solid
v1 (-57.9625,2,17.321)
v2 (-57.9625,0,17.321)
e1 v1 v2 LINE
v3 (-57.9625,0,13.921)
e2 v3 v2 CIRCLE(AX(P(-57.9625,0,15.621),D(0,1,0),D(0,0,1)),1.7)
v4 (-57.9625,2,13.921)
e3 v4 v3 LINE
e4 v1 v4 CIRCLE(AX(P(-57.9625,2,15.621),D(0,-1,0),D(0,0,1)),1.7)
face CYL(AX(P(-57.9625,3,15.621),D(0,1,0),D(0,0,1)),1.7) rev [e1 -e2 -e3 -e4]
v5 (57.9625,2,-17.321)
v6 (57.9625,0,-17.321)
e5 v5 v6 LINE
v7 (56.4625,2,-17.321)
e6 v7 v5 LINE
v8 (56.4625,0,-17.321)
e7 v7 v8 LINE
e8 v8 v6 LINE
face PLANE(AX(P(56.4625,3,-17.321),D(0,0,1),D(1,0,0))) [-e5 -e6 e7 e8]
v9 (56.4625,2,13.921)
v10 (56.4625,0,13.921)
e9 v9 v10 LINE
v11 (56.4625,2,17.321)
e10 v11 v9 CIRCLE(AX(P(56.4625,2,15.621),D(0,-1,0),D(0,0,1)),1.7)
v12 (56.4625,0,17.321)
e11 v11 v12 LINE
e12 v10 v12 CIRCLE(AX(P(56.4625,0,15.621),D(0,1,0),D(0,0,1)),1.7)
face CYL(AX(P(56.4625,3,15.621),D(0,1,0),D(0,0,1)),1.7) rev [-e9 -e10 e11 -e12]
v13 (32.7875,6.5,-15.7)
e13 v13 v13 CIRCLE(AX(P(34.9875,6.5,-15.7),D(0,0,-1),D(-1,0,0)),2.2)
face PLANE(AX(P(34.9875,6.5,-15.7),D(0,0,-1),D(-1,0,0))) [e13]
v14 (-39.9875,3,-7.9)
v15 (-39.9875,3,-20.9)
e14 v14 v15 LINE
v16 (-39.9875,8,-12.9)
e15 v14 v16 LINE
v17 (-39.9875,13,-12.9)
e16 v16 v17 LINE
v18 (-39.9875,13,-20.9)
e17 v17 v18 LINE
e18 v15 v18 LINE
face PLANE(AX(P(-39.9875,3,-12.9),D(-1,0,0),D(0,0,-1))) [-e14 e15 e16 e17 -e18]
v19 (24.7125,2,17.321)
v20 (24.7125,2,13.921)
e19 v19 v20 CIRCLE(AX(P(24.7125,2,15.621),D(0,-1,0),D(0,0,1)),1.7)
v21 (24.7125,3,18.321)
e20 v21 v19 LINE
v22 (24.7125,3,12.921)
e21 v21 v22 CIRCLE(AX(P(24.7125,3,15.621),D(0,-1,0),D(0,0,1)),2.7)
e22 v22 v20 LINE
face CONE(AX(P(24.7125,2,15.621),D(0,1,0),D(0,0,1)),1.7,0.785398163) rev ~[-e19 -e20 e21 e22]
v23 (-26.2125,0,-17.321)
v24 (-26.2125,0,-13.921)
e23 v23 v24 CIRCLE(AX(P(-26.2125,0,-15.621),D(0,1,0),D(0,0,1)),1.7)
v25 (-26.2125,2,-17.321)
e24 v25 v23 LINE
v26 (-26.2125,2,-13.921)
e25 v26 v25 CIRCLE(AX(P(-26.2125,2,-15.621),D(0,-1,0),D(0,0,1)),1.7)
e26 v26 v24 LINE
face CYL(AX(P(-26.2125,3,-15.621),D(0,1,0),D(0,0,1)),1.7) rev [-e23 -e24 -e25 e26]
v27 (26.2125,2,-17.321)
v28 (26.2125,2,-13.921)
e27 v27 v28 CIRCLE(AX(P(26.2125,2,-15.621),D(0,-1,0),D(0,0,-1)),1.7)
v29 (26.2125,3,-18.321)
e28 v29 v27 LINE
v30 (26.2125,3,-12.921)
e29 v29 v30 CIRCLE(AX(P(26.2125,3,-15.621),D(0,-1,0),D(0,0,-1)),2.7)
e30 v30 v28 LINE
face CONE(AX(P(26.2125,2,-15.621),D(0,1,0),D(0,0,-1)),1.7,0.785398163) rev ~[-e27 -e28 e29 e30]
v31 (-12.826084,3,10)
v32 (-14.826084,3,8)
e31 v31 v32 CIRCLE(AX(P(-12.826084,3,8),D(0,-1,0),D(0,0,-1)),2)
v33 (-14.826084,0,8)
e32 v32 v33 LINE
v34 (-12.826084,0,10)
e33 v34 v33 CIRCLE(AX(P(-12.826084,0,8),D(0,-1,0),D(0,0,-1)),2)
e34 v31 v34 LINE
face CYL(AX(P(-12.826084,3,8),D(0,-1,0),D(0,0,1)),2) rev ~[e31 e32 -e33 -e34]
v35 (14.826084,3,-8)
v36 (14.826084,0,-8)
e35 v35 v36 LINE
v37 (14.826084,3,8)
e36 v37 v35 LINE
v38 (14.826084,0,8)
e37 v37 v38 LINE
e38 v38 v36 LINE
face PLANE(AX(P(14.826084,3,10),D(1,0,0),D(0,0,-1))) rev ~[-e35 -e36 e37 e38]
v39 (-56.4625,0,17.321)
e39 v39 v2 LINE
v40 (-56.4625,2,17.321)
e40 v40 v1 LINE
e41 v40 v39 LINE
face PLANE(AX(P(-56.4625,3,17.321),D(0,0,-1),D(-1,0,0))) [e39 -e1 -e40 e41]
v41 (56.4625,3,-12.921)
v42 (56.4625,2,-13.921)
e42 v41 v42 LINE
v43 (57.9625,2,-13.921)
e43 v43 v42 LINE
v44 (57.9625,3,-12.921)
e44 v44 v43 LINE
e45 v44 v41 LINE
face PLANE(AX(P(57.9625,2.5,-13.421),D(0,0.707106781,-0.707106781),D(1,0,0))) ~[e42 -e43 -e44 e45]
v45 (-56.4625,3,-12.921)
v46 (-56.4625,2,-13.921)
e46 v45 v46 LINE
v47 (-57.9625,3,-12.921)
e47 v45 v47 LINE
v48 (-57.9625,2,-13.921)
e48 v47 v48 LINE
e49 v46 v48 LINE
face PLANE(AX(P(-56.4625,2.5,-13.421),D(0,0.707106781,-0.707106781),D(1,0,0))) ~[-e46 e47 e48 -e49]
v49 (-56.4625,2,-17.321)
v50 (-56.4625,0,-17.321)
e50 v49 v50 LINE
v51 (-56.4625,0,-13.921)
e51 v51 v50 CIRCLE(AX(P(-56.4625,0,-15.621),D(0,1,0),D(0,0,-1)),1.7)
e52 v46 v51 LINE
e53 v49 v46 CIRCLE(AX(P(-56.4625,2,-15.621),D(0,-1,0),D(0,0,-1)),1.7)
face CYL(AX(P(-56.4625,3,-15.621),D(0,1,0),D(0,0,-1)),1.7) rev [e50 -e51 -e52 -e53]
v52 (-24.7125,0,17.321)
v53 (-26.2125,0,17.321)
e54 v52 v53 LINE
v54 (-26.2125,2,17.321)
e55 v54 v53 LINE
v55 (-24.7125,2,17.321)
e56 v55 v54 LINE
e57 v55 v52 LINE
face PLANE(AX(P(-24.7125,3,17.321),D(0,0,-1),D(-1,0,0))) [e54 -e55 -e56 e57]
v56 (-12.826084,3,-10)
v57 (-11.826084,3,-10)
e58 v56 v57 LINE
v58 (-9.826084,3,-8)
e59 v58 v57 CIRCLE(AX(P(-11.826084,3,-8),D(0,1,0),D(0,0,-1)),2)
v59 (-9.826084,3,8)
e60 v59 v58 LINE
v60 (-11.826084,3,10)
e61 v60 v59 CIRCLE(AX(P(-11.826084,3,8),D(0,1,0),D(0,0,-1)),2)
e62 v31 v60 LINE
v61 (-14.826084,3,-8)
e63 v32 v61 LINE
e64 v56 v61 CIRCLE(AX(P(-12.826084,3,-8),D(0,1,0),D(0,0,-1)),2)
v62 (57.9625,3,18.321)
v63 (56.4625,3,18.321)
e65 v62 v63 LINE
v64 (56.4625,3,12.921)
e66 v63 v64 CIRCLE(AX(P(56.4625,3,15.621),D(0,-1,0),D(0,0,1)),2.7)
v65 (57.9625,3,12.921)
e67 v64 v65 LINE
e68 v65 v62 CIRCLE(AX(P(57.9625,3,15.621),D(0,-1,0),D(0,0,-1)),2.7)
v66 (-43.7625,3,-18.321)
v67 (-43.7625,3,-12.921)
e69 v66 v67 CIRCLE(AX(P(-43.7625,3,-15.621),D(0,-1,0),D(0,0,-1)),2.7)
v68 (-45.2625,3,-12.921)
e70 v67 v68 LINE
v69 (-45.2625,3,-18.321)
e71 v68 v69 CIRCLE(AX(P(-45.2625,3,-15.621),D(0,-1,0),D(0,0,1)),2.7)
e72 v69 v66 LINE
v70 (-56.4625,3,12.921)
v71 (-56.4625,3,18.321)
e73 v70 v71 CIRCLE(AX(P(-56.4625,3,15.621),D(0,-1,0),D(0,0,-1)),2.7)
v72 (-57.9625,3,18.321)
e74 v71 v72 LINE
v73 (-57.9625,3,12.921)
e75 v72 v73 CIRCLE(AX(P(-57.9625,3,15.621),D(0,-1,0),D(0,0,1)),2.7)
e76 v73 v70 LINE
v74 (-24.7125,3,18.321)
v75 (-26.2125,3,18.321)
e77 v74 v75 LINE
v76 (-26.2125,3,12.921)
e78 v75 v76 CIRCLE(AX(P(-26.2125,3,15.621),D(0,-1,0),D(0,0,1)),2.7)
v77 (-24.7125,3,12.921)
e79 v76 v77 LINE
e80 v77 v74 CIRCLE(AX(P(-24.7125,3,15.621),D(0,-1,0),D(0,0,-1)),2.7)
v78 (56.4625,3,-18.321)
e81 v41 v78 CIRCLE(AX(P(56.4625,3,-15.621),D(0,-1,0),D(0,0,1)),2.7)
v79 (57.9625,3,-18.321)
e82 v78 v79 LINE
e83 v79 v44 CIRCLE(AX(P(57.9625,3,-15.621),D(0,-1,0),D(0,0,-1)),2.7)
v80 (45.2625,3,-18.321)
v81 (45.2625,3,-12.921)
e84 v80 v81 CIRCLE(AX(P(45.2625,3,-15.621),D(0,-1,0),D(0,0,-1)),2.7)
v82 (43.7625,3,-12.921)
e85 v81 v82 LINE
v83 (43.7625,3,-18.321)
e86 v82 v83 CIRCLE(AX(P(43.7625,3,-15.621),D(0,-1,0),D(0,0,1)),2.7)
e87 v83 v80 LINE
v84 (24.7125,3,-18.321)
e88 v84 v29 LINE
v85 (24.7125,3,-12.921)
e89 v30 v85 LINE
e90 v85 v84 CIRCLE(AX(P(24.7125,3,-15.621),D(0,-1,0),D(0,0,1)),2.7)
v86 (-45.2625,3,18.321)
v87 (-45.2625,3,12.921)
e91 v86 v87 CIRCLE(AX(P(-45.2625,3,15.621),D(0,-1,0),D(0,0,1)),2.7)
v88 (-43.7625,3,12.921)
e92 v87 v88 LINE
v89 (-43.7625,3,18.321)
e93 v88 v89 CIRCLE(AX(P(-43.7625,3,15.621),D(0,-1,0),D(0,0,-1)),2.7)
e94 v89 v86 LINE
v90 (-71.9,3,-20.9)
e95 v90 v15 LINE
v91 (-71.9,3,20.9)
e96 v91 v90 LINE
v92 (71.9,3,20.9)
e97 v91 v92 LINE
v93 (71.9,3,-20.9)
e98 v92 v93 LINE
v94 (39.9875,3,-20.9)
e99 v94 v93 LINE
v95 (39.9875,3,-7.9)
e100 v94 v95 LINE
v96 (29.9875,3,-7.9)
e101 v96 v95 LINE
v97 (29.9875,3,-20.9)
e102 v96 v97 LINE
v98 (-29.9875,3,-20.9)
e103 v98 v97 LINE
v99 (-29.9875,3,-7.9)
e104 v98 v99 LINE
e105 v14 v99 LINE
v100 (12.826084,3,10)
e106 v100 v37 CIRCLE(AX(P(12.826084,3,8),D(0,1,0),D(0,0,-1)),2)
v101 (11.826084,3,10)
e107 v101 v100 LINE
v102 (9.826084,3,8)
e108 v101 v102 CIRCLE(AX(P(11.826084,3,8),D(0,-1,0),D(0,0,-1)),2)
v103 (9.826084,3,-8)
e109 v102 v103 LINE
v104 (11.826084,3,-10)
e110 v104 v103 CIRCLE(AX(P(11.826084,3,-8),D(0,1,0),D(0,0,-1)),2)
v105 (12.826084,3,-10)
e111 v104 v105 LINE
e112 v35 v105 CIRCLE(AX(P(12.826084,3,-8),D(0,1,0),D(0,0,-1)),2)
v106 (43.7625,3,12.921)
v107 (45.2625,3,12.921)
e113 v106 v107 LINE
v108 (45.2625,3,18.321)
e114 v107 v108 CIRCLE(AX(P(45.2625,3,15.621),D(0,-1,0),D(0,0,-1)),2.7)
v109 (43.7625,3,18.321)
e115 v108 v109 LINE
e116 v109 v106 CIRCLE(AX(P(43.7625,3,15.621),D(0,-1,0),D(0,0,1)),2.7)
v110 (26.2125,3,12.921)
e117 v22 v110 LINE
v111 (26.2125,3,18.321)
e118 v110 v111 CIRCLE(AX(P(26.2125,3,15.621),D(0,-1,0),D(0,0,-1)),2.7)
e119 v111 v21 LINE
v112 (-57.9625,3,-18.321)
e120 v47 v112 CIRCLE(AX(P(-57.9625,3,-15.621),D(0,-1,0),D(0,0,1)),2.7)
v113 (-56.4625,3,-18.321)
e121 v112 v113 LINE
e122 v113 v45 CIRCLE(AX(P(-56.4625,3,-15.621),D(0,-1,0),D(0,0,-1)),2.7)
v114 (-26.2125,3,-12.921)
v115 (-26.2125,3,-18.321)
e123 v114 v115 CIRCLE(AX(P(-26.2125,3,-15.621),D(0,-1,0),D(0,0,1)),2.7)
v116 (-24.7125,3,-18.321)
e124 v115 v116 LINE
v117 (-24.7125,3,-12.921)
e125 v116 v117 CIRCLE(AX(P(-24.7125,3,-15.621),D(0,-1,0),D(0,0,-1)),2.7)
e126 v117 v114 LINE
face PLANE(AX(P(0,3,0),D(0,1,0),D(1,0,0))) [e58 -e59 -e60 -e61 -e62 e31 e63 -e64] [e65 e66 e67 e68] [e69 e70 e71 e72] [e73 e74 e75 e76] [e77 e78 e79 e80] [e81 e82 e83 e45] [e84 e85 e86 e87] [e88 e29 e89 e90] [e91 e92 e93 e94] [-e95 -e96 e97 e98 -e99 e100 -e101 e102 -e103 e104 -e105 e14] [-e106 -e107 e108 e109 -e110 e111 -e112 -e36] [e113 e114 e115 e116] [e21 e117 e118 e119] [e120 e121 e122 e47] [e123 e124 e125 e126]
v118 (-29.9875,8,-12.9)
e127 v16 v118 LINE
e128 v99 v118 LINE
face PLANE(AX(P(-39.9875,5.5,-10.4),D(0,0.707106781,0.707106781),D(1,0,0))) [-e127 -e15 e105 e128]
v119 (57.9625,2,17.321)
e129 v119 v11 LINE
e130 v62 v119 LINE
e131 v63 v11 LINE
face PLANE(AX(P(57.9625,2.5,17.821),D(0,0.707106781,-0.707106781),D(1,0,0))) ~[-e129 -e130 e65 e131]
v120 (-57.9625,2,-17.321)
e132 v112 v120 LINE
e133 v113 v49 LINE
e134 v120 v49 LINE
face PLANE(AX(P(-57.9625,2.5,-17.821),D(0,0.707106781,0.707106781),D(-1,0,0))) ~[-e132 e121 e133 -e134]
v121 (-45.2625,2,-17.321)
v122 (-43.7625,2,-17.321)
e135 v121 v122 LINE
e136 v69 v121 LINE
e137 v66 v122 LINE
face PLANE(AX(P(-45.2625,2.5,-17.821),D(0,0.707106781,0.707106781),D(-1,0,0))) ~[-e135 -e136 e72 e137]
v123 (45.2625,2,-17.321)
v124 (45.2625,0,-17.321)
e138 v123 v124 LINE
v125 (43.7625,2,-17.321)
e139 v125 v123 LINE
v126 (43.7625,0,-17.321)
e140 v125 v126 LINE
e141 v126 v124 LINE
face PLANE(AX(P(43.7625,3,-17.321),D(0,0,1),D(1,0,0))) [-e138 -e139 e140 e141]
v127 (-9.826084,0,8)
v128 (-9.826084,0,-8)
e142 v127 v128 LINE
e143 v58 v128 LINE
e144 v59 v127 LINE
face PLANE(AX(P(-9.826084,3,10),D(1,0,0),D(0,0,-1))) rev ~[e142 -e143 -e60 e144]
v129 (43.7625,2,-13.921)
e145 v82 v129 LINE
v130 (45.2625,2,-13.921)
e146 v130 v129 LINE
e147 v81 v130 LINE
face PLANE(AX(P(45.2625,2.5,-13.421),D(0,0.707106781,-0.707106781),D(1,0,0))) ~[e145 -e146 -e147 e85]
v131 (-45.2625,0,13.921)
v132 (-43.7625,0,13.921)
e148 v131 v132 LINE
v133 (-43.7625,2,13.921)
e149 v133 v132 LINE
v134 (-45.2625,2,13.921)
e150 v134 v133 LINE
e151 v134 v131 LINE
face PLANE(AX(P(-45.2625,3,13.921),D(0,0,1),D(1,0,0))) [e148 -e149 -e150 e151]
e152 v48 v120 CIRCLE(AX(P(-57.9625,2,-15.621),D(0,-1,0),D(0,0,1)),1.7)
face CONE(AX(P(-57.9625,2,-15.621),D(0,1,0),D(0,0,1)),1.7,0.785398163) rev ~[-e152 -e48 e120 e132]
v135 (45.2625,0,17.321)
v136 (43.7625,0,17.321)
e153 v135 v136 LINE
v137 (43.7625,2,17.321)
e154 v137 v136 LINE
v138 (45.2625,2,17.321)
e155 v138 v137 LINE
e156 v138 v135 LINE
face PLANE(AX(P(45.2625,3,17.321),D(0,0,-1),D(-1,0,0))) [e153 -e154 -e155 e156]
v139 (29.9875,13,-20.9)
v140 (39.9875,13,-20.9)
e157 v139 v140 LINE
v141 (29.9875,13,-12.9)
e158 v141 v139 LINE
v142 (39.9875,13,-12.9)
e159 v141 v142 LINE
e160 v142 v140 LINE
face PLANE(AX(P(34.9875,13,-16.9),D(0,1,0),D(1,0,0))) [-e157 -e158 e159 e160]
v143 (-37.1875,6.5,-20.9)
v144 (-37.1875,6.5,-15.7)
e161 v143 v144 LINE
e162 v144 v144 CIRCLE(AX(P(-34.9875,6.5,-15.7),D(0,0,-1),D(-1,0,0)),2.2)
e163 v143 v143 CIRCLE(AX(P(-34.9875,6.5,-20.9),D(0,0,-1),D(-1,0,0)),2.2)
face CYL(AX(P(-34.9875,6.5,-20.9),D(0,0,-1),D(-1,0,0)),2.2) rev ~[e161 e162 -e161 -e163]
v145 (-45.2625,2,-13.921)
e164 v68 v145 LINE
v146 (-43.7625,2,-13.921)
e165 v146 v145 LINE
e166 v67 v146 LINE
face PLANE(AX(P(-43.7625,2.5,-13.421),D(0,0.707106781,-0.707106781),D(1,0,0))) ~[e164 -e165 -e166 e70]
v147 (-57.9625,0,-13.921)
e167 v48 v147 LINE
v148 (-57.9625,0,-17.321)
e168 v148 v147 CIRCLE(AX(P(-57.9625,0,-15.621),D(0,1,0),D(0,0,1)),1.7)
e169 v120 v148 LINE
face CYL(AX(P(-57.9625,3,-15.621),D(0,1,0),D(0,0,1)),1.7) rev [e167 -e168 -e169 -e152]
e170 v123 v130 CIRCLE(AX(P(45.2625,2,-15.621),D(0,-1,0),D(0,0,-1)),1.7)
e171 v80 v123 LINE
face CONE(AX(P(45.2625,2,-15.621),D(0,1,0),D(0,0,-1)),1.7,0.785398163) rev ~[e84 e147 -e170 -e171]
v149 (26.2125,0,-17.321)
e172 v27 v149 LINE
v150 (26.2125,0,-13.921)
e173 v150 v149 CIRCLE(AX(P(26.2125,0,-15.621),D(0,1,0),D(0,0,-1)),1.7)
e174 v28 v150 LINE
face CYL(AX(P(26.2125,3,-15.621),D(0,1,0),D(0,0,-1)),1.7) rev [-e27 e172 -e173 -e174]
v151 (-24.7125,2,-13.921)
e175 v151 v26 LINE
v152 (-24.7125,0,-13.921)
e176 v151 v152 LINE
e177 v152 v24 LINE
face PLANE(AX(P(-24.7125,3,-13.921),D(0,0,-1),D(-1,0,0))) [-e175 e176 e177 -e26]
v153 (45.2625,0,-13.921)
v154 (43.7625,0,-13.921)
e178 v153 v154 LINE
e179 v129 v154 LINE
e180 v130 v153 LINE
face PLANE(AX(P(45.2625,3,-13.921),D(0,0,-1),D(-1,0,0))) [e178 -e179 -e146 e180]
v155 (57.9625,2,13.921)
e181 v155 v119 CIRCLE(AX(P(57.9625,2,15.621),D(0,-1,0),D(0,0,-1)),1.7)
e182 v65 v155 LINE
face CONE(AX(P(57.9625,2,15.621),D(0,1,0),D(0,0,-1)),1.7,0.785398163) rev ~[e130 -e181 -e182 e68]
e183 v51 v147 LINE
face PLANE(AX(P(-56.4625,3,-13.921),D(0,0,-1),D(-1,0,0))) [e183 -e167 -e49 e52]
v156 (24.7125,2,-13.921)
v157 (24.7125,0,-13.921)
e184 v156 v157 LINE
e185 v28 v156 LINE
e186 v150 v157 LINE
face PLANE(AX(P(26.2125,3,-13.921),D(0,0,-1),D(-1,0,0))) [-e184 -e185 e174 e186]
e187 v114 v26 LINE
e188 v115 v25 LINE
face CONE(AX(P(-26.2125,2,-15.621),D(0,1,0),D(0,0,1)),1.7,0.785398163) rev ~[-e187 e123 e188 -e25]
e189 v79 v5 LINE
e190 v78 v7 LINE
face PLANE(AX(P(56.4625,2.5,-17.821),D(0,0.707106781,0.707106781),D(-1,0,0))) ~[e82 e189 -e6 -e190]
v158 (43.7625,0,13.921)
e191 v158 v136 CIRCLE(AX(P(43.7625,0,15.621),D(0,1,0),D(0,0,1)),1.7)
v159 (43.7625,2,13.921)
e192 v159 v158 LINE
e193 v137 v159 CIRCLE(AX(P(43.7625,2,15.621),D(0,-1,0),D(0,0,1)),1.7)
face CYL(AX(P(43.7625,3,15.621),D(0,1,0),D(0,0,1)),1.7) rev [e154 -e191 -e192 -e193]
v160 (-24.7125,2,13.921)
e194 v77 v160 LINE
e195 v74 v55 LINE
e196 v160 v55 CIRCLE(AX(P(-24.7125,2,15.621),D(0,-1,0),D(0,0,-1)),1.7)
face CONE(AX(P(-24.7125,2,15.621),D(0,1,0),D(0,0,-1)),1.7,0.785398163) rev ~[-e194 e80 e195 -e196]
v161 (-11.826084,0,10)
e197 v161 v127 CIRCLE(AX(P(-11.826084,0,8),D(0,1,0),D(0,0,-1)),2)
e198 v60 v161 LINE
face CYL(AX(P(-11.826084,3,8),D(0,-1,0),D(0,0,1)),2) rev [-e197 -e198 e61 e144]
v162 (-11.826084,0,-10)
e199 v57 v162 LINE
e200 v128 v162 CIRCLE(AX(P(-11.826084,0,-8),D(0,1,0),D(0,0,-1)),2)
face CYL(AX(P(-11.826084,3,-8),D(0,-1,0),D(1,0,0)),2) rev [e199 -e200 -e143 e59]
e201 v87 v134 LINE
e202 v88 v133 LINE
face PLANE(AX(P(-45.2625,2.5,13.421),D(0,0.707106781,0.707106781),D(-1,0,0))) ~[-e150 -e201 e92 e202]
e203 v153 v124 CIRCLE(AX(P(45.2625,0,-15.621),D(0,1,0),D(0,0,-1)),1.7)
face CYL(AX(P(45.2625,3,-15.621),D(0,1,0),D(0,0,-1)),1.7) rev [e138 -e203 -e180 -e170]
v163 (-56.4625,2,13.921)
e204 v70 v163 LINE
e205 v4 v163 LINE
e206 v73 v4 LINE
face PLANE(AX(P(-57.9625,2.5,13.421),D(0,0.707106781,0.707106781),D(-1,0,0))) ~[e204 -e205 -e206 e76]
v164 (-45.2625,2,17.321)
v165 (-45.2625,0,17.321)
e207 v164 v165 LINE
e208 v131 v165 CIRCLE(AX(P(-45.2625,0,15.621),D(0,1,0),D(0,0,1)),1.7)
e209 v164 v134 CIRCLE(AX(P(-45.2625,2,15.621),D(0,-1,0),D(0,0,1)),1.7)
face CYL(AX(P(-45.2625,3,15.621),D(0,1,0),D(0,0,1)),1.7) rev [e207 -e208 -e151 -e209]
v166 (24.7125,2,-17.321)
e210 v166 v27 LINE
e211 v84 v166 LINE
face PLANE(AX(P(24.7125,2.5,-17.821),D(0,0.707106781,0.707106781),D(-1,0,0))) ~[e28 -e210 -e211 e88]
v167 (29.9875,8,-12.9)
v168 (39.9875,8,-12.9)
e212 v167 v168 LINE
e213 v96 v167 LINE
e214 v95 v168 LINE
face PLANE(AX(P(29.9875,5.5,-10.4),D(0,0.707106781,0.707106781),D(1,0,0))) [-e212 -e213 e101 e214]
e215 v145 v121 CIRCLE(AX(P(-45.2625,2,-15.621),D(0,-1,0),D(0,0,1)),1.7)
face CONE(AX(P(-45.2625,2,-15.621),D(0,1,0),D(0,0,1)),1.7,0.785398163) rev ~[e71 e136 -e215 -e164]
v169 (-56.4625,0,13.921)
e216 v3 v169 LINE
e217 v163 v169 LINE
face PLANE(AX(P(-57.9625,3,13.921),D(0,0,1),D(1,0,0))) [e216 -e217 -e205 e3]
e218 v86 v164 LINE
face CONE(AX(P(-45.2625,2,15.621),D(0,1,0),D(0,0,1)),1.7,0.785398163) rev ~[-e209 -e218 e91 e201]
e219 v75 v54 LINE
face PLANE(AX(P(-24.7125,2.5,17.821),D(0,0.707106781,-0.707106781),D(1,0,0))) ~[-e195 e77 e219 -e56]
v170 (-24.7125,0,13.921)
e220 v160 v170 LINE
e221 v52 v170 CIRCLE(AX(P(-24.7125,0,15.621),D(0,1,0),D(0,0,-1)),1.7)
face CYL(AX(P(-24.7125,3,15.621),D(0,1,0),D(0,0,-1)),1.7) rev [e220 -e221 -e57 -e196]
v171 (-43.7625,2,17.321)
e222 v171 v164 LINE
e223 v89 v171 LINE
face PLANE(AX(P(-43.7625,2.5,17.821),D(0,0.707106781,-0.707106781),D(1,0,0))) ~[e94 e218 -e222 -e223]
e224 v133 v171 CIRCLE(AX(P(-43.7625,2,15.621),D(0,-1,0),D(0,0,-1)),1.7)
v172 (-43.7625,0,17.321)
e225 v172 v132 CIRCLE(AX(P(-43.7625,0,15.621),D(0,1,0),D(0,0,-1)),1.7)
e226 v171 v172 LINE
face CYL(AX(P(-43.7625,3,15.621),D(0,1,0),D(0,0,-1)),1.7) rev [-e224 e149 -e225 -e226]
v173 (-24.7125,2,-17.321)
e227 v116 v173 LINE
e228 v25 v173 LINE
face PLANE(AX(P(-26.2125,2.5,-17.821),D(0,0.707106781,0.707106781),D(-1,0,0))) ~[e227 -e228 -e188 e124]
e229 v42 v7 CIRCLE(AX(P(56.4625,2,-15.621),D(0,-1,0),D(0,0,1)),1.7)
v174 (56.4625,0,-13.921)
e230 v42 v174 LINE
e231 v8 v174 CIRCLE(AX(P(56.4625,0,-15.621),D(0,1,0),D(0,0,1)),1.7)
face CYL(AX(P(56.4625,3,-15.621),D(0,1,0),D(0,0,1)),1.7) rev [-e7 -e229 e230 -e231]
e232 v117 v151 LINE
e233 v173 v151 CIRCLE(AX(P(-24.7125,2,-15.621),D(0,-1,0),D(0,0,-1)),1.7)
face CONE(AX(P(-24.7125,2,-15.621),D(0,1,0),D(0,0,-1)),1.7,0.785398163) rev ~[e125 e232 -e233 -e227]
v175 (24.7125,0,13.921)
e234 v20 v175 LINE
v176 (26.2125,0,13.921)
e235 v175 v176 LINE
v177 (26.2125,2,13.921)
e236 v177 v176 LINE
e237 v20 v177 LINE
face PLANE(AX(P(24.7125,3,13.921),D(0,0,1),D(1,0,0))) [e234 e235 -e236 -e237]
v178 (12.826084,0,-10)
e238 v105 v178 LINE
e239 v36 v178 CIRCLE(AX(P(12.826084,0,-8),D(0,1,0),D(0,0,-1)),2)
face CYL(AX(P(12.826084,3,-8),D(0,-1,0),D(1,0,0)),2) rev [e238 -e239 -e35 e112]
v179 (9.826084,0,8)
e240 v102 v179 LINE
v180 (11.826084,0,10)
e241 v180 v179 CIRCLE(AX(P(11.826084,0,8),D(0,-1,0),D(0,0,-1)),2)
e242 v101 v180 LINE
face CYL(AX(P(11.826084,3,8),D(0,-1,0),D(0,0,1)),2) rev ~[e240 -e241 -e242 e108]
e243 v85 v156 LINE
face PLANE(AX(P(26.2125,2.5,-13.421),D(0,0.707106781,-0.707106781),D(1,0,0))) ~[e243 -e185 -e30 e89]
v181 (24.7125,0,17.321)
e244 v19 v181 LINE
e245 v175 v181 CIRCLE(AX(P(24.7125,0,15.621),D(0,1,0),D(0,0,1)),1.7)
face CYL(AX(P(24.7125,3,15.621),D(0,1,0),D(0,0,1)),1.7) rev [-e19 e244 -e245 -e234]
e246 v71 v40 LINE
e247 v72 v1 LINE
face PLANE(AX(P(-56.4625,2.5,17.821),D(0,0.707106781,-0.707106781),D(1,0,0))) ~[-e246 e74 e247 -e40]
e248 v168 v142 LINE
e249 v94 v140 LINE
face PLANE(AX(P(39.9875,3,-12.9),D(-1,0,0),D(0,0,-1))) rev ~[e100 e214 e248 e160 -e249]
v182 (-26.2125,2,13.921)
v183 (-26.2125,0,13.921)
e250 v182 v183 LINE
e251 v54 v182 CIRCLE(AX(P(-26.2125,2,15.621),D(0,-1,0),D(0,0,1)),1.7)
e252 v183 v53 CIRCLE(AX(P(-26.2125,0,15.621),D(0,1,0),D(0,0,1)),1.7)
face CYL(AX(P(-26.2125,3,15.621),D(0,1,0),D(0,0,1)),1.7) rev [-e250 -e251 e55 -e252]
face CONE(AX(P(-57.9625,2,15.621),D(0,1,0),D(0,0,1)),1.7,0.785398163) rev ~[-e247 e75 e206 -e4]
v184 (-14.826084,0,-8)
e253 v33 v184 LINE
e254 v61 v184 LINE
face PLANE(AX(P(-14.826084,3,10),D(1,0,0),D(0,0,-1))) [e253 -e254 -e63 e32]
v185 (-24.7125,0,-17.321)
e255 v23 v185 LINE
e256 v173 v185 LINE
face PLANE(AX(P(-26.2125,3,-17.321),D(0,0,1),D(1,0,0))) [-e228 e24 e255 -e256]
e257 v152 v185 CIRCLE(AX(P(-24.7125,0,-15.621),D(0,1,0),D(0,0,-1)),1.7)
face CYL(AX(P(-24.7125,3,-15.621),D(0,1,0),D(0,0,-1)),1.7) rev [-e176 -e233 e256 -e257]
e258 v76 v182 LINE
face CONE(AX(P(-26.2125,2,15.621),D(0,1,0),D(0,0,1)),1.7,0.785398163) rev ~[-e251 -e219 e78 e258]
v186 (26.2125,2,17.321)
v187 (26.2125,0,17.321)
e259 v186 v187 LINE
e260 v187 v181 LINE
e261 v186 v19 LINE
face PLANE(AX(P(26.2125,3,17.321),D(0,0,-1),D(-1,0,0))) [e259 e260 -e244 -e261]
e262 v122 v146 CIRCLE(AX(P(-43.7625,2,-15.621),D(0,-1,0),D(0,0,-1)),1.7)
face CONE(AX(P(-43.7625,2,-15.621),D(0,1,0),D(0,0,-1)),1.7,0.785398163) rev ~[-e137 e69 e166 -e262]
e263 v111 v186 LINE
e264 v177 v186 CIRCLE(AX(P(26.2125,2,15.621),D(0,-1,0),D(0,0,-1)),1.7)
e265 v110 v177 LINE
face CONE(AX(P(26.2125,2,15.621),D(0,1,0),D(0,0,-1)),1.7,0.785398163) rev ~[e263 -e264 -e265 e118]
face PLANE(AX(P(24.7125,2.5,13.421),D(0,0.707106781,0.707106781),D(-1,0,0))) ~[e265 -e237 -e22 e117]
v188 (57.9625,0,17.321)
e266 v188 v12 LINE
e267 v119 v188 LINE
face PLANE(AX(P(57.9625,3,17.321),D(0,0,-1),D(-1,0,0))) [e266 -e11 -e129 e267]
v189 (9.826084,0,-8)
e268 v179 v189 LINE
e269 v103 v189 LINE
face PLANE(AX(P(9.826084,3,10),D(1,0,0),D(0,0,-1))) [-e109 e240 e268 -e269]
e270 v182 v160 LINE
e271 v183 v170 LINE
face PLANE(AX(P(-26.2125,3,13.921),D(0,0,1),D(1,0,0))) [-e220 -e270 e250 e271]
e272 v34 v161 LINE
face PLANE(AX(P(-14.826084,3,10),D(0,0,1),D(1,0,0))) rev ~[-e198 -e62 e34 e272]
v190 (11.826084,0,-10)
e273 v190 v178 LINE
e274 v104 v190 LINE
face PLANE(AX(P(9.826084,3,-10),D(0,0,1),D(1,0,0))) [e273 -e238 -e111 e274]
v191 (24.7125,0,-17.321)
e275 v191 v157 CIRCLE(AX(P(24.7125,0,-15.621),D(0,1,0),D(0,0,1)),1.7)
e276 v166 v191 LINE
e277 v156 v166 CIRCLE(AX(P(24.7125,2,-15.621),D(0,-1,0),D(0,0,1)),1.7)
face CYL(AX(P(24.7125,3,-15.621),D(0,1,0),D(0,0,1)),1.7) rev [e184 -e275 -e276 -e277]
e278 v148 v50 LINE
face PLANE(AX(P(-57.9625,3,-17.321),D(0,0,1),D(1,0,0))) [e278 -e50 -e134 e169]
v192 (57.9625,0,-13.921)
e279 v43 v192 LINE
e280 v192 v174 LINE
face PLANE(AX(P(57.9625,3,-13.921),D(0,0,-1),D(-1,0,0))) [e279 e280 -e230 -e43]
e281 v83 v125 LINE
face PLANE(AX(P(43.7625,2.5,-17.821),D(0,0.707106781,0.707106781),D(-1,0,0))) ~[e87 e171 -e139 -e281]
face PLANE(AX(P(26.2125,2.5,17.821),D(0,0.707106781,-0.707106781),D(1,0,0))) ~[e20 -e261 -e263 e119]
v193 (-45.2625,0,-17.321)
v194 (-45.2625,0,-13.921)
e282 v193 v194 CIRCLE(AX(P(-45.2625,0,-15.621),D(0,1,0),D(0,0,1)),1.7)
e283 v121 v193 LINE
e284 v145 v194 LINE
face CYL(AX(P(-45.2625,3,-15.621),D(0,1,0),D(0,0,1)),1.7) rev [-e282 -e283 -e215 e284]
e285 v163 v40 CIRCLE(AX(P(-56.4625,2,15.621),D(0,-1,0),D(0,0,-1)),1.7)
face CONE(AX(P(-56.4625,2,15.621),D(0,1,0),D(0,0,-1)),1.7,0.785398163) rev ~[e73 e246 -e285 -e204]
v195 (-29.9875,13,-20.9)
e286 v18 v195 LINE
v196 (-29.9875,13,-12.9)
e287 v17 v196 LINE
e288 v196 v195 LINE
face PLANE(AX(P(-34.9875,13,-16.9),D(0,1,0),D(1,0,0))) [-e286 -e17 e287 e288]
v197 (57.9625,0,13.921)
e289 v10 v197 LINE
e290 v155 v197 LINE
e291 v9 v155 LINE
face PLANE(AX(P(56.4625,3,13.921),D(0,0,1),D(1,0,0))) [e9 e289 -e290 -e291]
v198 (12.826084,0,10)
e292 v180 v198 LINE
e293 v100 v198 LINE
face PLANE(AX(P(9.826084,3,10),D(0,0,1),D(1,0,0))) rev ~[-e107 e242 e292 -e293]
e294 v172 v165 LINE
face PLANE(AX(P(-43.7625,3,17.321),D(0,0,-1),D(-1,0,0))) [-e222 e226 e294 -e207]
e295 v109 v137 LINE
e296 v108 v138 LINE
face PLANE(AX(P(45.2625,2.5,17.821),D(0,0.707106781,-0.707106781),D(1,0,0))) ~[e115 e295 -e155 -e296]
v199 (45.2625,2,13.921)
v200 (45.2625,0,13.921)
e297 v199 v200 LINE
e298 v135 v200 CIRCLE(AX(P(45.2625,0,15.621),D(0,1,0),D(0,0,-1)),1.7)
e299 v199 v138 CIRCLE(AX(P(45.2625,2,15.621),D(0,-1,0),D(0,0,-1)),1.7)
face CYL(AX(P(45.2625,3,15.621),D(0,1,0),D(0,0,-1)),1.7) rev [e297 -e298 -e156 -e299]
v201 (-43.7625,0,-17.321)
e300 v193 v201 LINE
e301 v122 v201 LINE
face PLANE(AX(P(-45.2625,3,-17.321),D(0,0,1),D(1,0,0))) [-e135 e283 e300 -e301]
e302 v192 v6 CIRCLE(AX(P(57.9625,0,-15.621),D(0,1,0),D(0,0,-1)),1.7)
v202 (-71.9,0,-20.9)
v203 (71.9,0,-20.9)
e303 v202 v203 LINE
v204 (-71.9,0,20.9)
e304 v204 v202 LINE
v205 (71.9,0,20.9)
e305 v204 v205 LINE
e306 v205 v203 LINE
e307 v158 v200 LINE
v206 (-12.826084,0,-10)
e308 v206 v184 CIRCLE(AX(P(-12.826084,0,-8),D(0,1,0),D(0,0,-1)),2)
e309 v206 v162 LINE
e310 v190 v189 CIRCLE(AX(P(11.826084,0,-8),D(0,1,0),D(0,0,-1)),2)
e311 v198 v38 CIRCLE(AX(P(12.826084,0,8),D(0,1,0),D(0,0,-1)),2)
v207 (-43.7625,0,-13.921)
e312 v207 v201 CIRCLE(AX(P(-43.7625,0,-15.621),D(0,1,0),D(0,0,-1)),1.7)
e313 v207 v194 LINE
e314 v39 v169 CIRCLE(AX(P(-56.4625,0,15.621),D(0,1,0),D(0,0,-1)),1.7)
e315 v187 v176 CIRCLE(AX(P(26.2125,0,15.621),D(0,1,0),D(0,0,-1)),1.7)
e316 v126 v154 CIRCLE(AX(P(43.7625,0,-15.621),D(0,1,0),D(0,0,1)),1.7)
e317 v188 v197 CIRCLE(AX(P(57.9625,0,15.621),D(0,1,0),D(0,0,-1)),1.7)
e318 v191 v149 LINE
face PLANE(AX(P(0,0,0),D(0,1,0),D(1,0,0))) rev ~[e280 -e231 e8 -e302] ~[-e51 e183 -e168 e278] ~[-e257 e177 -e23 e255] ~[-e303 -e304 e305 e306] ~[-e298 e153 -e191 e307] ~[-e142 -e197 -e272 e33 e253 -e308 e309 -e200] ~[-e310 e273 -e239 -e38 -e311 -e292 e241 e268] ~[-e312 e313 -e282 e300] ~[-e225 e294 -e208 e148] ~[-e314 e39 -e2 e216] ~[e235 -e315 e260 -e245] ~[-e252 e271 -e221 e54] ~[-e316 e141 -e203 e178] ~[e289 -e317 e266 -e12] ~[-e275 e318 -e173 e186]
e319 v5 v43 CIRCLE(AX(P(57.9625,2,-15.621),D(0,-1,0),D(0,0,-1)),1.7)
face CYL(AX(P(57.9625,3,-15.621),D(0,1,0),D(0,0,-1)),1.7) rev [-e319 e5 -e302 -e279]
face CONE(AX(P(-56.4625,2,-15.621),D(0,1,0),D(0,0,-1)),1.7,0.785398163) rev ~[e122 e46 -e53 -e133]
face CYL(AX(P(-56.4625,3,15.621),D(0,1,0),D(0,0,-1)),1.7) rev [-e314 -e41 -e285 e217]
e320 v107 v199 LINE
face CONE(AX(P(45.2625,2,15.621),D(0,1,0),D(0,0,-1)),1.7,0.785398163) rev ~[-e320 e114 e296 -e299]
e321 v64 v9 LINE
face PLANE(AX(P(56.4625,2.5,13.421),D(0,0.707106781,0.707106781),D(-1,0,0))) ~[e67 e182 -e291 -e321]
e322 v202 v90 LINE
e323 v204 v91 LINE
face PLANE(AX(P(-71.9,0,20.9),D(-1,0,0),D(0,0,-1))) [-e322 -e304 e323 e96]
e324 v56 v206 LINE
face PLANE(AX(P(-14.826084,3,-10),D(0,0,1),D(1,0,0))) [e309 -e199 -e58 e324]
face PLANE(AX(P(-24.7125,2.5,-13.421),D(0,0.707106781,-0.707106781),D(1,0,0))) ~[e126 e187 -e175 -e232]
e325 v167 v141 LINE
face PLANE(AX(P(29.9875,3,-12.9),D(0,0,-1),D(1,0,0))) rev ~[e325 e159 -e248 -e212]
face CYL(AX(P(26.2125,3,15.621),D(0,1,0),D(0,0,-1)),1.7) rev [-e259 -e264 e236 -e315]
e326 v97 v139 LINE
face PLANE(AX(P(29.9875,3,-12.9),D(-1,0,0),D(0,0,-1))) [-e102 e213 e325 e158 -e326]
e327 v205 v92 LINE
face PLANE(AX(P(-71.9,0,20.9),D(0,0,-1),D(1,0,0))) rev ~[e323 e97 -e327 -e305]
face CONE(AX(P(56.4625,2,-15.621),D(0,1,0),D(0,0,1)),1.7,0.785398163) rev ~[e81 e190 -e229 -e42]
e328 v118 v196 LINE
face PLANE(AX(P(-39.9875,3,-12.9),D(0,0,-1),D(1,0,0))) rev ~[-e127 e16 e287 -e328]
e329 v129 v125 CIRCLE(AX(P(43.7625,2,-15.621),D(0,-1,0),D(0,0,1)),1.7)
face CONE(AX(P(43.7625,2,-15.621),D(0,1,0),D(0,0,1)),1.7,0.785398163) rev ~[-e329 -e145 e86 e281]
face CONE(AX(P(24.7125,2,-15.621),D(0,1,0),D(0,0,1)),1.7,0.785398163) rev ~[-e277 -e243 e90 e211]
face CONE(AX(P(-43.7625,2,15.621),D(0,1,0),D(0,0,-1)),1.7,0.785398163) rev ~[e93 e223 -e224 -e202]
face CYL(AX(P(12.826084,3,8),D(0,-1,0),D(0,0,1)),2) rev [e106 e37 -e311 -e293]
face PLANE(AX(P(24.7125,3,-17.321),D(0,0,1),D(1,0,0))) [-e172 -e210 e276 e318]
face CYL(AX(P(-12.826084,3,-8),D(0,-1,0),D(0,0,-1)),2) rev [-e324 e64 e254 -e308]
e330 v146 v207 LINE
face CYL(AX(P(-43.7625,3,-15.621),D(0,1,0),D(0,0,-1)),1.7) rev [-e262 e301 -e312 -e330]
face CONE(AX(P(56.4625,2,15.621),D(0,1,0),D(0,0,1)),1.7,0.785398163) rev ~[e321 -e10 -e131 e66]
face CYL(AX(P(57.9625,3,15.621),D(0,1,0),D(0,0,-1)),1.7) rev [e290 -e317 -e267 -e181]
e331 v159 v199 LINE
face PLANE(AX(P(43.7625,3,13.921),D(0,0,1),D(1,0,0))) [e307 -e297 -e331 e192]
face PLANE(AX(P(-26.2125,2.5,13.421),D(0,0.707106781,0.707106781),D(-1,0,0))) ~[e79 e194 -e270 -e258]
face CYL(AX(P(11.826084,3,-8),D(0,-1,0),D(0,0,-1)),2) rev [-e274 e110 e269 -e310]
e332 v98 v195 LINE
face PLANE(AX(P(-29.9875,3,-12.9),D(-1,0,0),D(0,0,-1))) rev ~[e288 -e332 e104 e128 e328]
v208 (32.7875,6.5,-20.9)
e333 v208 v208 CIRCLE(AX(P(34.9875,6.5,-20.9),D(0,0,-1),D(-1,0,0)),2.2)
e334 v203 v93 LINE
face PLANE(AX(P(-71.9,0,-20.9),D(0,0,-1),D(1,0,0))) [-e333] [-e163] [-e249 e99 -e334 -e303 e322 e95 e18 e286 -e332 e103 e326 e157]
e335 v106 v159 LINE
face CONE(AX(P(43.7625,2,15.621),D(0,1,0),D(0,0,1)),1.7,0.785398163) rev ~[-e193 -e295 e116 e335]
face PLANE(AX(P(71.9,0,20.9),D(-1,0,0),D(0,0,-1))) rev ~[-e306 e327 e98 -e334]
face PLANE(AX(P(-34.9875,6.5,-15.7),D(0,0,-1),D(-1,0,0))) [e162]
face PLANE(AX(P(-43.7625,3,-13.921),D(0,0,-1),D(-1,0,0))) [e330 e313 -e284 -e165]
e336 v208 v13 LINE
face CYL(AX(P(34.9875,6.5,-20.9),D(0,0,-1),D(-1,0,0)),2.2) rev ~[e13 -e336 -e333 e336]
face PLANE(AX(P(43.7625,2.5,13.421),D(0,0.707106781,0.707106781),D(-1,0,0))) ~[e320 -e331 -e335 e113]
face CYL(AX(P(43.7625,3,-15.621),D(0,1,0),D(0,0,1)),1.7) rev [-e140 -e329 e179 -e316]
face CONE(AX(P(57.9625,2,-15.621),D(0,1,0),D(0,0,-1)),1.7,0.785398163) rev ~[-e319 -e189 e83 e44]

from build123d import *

# Parameters (mm, degrees)
SKETCH1_W           = 143.8
SKETCH1_H           = 41.8
SKETCH1_R           = 1.5875
BOSS_EXTRUDE1_DEPTH = 3
SKETCH4_W           = 10
SKETCH4_H           = 8
BOSS_EXTRUDE3_DEPTH = 10
CHAMFER2_SIZE       = 5
SKETCH5_R           = 2.2
CUT_EXTRUDE2_DEPTH  = 5.2
CUT_EXTRUDE3_DEPTH  = 10
CHAMFER3_SIZE       = 1
SKETCH8_W           = 5
SKETCH8_H           = 20
CUT_EXTRUDE4_DEPTH  = 10
FILLET1_R           = 2


with BuildPart() as part:
    # Sketch1 → Boss-Extrude1 (new body)
    with BuildSketch(Plane(origin=(0, 0, 0), x_dir=(1, 0, 0), z_dir=(0, 1, 0))):
        Rectangle(SKETCH1_W, SKETCH1_H)
        with Locations(Location((-57.2125, 15.621, 0), (0, 0, 270))):
            Circle(SKETCH1_R, mode=Mode.SUBTRACT)
        with Locations(Location((-44.5125, 15.621, 0), (0, 0, 270))):
            Circle(SKETCH1_R, mode=Mode.SUBTRACT)
        with Locations(Location((-25.4625, 15.621, 0), (0, 0, 270))):
            Circle(SKETCH1_R, mode=Mode.SUBTRACT)
        with Locations(Location((-25.4625, -15.621, 0), (0, 0, 270))):
            Circle(SKETCH1_R, mode=Mode.SUBTRACT)
        with Locations(Location((-44.5125, -15.621, 0), (0, 0, 270))):
            Circle(SKETCH1_R, mode=Mode.SUBTRACT)
        with Locations(Location((-57.2125, -15.621, 0), (0, 0, 270))):
            Circle(SKETCH1_R, mode=Mode.SUBTRACT)
        with Locations(Location((44.5125, -15.621, 0), (0, 0, 90))):
            Circle(SKETCH1_R, mode=Mode.SUBTRACT)
        with Locations(Location((25.4625, -15.621, 0), (0, 0, 90))):
            Circle(SKETCH1_R, mode=Mode.SUBTRACT)
        with Locations(Location((25.4625, 15.621, 0), (0, 0, 90))):
            Circle(SKETCH1_R, mode=Mode.SUBTRACT)
        with Locations(Location((44.5125, 15.621, 0), (0, 0, 90))):
            Circle(SKETCH1_R, mode=Mode.SUBTRACT)
        with Locations(Location((57.2125, 15.621, 0), (0, 0, 90))):
            Circle(SKETCH1_R, mode=Mode.SUBTRACT)
        with Locations(Location((57.2125, -15.621, 0), (0, 0, 90))):
            Circle(SKETCH1_R, mode=Mode.SUBTRACT)
    extrude(amount=BOSS_EXTRUDE1_DEPTH)

    # Sketch4 → Boss-Extrude3 (add)
    with BuildSketch(Plane(origin=(0, 3, 0), x_dir=(1, 0, 0), z_dir=(0, 1, 0))):
        with Locations((-34.9875, 16.9)):
            Rectangle(SKETCH4_W, SKETCH4_H)
        with Locations((34.9875, 16.9)):
            Rectangle(SKETCH4_W, SKETCH4_H)
    extrude(amount=BOSS_EXTRUDE3_DEPTH)

    # Chamfer2
    chamfer2_edges = [part.edges().sort_by_distance(p)[0] for p in [
        (-34.9875, 3, -12.9),
        (34.9875, 3, -12.9),
    ]]
    chamfer(chamfer2_edges, length=CHAMFER2_SIZE)

    # Sketch5 → Cut-Extrude2 (cut)
    with BuildSketch(Plane(origin=(0, 0, -20.9), x_dir=(-1, 0, 0), z_dir=(0, 0, -1))):
        with Locations((-34.9875, 6.5)):
            Circle(SKETCH5_R)
        with Locations((34.9875, 6.5)):
            Circle(SKETCH5_R)
    extrude(amount=-CUT_EXTRUDE2_DEPTH, mode=Mode.SUBTRACT)

    # Sketch7 → Cut-Extrude3 (cut)
    with BuildSketch(Plane(origin=(0, 3, 0), x_dir=(1, 0, 0), z_dir=(0, 1, 0))):
        with BuildLine():
            Line((-56.4625, 13.921), (-57.9625, 13.921))
            ThreePointArc((-57.9625, 13.921), (-59.6625, 15.621), (-57.9625, 17.321))
            Line((-57.9625, 17.321), (-56.4625, 17.321))
            ThreePointArc((-56.4625, 17.321), (-54.7625, 15.621), (-56.4625, 13.921))
        make_face()
        with BuildLine():
            Line((-43.7625, 13.921), (-45.2625, 13.921))
            ThreePointArc((-45.2625, 13.921), (-46.9625, 15.621), (-45.2625, 17.321))
            Line((-45.2625, 17.321), (-43.7625, 17.321))
            ThreePointArc((-43.7625, 17.321), (-42.0625, 15.621), (-43.7625, 13.921))
        make_face()
        with BuildLine():
            Line((-26.2125, 17.321), (-24.7125, 17.321))
            ThreePointArc((-24.7125, 17.321), (-23.0125, 15.621), (-24.7125, 13.921))
            Line((-24.7125, 13.921), (-26.2125, 13.921))
            ThreePointArc((-26.2125, 13.921), (-27.9125, 15.621), (-26.2125, 17.321))
        make_face()
        with BuildLine():
            Line((-43.7625, -17.321), (-45.2625, -17.321))
            ThreePointArc((-45.2625, -17.321), (-46.9625, -15.621), (-45.2625, -13.921))
            Line((-45.2625, -13.921), (-43.7625, -13.921))
            ThreePointArc((-43.7625, -13.921), (-42.0625, -15.621), (-43.7625, -17.321))
        make_face()
        with BuildLine():
            Line((-57.9625, -13.921), (-56.4625, -13.921))
            ThreePointArc((-56.4625, -13.921), (-54.7625, -15.621), (-56.4625, -17.321))
            Line((-56.4625, -17.321), (-57.9625, -17.321))
            ThreePointArc((-57.9625, -17.321), (-59.6625, -15.621), (-57.9625, -13.921))
        make_face()
        with BuildLine():
            Line((-24.7125, -17.321), (-26.2125, -17.321))
            ThreePointArc((-26.2125, -17.321), (-27.9125, -15.621), (-26.2125, -13.921))
            Line((-26.2125, -13.921), (-24.7125, -13.921))
            ThreePointArc((-24.7125, -13.921), (-23.0125, -15.621), (-24.7125, -17.321))
        make_face()
        with BuildLine():
            Line((56.4625, -13.921), (57.9625, -13.921))
            ThreePointArc((57.9625, -13.921), (59.6625, -15.621), (57.9625, -17.321))
            Line((57.9625, -17.321), (56.4625, -17.321))
            ThreePointArc((56.4625, -17.321), (54.7625, -15.621), (56.4625, -13.921))
        make_face()
        with BuildLine():
            Line((45.2625, -17.321), (43.7625, -17.321))
            ThreePointArc((43.7625, -17.321), (42.0625, -15.621), (43.7625, -13.921))
            Line((43.7625, -13.921), (45.2625, -13.921))
            ThreePointArc((45.2625, -13.921), (46.9625, -15.621), (45.2625, -17.321))
        make_face()
        with BuildLine():
            Line((24.7125, -13.921), (26.2125, -13.921))
            ThreePointArc((26.2125, -13.921), (27.9125, -15.621), (26.2125, -17.321))
            Line((26.2125, -17.321), (24.7125, -17.321))
            ThreePointArc((24.7125, -17.321), (23.0125, -15.621), (24.7125, -13.921))
        make_face()
        with BuildLine():
            Line((56.4625, 17.321), (57.9625, 17.321))
            ThreePointArc((57.9625, 17.321), (59.6625, 15.621), (57.9625, 13.921))
            Line((57.9625, 13.921), (56.4625, 13.921))
            ThreePointArc((56.4625, 13.921), (54.7625, 15.621), (56.4625, 17.321))
        make_face()
        with BuildLine():
            Line((43.7625, 17.321), (45.2625, 17.321))
            ThreePointArc((45.2625, 17.321), (46.9625, 15.621), (45.2625, 13.921))
            Line((45.2625, 13.921), (43.7625, 13.921))
            ThreePointArc((43.7625, 13.921), (42.0625, 15.621), (43.7625, 17.321))
        make_face()
        with BuildLine():
            Line((26.2125, 13.921), (24.7125, 13.921))
            ThreePointArc((24.7125, 13.921), (23.0125, 15.621), (24.7125, 17.321))
            Line((24.7125, 17.321), (26.2125, 17.321))
            ThreePointArc((26.2125, 17.321), (27.9125, 15.621), (26.2125, 13.921))
        make_face()
    extrude(amount=-CUT_EXTRUDE3_DEPTH, mode=Mode.SUBTRACT)

    # Chamfer3
    chamfer3_edges = [part.edges().sort_by_distance(p)[0] for p in [
        (-23.0125, 3, 15.621),
        (-25.4625, 3, 13.921),
        (-27.9125, 3, 15.621),
        (-25.4625, 3, 17.321),
        (54.7625, 3, 15.621),
        (57.2125, 3, 17.321),
        (59.6625, 3, 15.621),
        (57.2125, 3, 13.921),
        (46.9625, 3, 15.621),
        (44.5125, 3, 13.921),
        (42.0625, 3, 15.621),
        (44.5125, 3, 17.321),
        (23.0125, 3, 15.621),
        (25.4625, 3, 17.321),
        (27.9125, 3, 15.621),
        (25.4625, 3, 13.921),
        (-59.6625, 3, 15.621),
        (-57.2125, 3, 17.321),
        (-54.7625, 3, 15.621),
        (-57.2125, 3, 13.921),
        (-42.0625, 3, 15.621),
        (-44.5125, 3, 13.921),
        (-46.9625, 3, 15.621),
        (-44.5125, 3, 17.321),
        (-27.9125, 3, -15.621),
        (-25.4625, 3, -13.921),
        (-23.0125, 3, -15.621),
        (-25.4625, 3, -17.321),
        (-42.0625, 3, -15.621),
        (-44.5125, 3, -17.321),
        (-46.9625, 3, -15.621),
        (-44.5125, 3, -13.921),
        (54.7625, 3, -15.621),
        (57.2125, 3, -13.921),
        (59.6625, 3, -15.621),
        (57.2125, 3, -17.321),
        (42.0625, 3, -15.621),
        (44.5125, 3, -13.921),
        (46.9625, 3, -15.621),
        (44.5125, 3, -17.321),
        (27.9125, 3, -15.621),
        (25.4625, 3, -17.321),
        (23.0125, 3, -15.621),
        (25.4625, 3, -13.921),
        (-54.7625, 3, -15.621),
        (-57.2125, 3, -17.321),
        (-59.6625, 3, -15.621),
        (-57.2125, 3, -13.921),
    ]]
    chamfer(chamfer3_edges, length=CHAMFER3_SIZE)

    # Sketch8 → Cut-Extrude4 (cut)
    with BuildSketch(Plane(origin=(0, 3, 0), x_dir=(1, 0, 0), z_dir=(0, 1, 0))):
        with Locations((12.326083865, 0)):
            Rectangle(SKETCH8_W, SKETCH8_H)
        with Locations((-12.326083865, 0)):
            Rectangle(SKETCH8_W, SKETCH8_H)
    extrude(amount=-CUT_EXTRUDE4_DEPTH, mode=Mode.SUBTRACT)

    # Fillet1
    fillet1_edges = [part.edges().sort_by_distance(p)[0] for p in [
        (-9.826083865, 1.5, -10),
        (-9.826083865, 1.5, 10),
        (-14.826083865, 1.5, 10),
        (-14.826083865, 1.5, -10),
        (14.826083865, 1.5, -10),
        (14.826083865, 1.5, 10),
        (9.826083865, 1.5, 10),
        (9.826083865, 1.5, -10),
    ]]
    fillet(fillet1_edges, radius=FILLET1_R)


solid = part.part
